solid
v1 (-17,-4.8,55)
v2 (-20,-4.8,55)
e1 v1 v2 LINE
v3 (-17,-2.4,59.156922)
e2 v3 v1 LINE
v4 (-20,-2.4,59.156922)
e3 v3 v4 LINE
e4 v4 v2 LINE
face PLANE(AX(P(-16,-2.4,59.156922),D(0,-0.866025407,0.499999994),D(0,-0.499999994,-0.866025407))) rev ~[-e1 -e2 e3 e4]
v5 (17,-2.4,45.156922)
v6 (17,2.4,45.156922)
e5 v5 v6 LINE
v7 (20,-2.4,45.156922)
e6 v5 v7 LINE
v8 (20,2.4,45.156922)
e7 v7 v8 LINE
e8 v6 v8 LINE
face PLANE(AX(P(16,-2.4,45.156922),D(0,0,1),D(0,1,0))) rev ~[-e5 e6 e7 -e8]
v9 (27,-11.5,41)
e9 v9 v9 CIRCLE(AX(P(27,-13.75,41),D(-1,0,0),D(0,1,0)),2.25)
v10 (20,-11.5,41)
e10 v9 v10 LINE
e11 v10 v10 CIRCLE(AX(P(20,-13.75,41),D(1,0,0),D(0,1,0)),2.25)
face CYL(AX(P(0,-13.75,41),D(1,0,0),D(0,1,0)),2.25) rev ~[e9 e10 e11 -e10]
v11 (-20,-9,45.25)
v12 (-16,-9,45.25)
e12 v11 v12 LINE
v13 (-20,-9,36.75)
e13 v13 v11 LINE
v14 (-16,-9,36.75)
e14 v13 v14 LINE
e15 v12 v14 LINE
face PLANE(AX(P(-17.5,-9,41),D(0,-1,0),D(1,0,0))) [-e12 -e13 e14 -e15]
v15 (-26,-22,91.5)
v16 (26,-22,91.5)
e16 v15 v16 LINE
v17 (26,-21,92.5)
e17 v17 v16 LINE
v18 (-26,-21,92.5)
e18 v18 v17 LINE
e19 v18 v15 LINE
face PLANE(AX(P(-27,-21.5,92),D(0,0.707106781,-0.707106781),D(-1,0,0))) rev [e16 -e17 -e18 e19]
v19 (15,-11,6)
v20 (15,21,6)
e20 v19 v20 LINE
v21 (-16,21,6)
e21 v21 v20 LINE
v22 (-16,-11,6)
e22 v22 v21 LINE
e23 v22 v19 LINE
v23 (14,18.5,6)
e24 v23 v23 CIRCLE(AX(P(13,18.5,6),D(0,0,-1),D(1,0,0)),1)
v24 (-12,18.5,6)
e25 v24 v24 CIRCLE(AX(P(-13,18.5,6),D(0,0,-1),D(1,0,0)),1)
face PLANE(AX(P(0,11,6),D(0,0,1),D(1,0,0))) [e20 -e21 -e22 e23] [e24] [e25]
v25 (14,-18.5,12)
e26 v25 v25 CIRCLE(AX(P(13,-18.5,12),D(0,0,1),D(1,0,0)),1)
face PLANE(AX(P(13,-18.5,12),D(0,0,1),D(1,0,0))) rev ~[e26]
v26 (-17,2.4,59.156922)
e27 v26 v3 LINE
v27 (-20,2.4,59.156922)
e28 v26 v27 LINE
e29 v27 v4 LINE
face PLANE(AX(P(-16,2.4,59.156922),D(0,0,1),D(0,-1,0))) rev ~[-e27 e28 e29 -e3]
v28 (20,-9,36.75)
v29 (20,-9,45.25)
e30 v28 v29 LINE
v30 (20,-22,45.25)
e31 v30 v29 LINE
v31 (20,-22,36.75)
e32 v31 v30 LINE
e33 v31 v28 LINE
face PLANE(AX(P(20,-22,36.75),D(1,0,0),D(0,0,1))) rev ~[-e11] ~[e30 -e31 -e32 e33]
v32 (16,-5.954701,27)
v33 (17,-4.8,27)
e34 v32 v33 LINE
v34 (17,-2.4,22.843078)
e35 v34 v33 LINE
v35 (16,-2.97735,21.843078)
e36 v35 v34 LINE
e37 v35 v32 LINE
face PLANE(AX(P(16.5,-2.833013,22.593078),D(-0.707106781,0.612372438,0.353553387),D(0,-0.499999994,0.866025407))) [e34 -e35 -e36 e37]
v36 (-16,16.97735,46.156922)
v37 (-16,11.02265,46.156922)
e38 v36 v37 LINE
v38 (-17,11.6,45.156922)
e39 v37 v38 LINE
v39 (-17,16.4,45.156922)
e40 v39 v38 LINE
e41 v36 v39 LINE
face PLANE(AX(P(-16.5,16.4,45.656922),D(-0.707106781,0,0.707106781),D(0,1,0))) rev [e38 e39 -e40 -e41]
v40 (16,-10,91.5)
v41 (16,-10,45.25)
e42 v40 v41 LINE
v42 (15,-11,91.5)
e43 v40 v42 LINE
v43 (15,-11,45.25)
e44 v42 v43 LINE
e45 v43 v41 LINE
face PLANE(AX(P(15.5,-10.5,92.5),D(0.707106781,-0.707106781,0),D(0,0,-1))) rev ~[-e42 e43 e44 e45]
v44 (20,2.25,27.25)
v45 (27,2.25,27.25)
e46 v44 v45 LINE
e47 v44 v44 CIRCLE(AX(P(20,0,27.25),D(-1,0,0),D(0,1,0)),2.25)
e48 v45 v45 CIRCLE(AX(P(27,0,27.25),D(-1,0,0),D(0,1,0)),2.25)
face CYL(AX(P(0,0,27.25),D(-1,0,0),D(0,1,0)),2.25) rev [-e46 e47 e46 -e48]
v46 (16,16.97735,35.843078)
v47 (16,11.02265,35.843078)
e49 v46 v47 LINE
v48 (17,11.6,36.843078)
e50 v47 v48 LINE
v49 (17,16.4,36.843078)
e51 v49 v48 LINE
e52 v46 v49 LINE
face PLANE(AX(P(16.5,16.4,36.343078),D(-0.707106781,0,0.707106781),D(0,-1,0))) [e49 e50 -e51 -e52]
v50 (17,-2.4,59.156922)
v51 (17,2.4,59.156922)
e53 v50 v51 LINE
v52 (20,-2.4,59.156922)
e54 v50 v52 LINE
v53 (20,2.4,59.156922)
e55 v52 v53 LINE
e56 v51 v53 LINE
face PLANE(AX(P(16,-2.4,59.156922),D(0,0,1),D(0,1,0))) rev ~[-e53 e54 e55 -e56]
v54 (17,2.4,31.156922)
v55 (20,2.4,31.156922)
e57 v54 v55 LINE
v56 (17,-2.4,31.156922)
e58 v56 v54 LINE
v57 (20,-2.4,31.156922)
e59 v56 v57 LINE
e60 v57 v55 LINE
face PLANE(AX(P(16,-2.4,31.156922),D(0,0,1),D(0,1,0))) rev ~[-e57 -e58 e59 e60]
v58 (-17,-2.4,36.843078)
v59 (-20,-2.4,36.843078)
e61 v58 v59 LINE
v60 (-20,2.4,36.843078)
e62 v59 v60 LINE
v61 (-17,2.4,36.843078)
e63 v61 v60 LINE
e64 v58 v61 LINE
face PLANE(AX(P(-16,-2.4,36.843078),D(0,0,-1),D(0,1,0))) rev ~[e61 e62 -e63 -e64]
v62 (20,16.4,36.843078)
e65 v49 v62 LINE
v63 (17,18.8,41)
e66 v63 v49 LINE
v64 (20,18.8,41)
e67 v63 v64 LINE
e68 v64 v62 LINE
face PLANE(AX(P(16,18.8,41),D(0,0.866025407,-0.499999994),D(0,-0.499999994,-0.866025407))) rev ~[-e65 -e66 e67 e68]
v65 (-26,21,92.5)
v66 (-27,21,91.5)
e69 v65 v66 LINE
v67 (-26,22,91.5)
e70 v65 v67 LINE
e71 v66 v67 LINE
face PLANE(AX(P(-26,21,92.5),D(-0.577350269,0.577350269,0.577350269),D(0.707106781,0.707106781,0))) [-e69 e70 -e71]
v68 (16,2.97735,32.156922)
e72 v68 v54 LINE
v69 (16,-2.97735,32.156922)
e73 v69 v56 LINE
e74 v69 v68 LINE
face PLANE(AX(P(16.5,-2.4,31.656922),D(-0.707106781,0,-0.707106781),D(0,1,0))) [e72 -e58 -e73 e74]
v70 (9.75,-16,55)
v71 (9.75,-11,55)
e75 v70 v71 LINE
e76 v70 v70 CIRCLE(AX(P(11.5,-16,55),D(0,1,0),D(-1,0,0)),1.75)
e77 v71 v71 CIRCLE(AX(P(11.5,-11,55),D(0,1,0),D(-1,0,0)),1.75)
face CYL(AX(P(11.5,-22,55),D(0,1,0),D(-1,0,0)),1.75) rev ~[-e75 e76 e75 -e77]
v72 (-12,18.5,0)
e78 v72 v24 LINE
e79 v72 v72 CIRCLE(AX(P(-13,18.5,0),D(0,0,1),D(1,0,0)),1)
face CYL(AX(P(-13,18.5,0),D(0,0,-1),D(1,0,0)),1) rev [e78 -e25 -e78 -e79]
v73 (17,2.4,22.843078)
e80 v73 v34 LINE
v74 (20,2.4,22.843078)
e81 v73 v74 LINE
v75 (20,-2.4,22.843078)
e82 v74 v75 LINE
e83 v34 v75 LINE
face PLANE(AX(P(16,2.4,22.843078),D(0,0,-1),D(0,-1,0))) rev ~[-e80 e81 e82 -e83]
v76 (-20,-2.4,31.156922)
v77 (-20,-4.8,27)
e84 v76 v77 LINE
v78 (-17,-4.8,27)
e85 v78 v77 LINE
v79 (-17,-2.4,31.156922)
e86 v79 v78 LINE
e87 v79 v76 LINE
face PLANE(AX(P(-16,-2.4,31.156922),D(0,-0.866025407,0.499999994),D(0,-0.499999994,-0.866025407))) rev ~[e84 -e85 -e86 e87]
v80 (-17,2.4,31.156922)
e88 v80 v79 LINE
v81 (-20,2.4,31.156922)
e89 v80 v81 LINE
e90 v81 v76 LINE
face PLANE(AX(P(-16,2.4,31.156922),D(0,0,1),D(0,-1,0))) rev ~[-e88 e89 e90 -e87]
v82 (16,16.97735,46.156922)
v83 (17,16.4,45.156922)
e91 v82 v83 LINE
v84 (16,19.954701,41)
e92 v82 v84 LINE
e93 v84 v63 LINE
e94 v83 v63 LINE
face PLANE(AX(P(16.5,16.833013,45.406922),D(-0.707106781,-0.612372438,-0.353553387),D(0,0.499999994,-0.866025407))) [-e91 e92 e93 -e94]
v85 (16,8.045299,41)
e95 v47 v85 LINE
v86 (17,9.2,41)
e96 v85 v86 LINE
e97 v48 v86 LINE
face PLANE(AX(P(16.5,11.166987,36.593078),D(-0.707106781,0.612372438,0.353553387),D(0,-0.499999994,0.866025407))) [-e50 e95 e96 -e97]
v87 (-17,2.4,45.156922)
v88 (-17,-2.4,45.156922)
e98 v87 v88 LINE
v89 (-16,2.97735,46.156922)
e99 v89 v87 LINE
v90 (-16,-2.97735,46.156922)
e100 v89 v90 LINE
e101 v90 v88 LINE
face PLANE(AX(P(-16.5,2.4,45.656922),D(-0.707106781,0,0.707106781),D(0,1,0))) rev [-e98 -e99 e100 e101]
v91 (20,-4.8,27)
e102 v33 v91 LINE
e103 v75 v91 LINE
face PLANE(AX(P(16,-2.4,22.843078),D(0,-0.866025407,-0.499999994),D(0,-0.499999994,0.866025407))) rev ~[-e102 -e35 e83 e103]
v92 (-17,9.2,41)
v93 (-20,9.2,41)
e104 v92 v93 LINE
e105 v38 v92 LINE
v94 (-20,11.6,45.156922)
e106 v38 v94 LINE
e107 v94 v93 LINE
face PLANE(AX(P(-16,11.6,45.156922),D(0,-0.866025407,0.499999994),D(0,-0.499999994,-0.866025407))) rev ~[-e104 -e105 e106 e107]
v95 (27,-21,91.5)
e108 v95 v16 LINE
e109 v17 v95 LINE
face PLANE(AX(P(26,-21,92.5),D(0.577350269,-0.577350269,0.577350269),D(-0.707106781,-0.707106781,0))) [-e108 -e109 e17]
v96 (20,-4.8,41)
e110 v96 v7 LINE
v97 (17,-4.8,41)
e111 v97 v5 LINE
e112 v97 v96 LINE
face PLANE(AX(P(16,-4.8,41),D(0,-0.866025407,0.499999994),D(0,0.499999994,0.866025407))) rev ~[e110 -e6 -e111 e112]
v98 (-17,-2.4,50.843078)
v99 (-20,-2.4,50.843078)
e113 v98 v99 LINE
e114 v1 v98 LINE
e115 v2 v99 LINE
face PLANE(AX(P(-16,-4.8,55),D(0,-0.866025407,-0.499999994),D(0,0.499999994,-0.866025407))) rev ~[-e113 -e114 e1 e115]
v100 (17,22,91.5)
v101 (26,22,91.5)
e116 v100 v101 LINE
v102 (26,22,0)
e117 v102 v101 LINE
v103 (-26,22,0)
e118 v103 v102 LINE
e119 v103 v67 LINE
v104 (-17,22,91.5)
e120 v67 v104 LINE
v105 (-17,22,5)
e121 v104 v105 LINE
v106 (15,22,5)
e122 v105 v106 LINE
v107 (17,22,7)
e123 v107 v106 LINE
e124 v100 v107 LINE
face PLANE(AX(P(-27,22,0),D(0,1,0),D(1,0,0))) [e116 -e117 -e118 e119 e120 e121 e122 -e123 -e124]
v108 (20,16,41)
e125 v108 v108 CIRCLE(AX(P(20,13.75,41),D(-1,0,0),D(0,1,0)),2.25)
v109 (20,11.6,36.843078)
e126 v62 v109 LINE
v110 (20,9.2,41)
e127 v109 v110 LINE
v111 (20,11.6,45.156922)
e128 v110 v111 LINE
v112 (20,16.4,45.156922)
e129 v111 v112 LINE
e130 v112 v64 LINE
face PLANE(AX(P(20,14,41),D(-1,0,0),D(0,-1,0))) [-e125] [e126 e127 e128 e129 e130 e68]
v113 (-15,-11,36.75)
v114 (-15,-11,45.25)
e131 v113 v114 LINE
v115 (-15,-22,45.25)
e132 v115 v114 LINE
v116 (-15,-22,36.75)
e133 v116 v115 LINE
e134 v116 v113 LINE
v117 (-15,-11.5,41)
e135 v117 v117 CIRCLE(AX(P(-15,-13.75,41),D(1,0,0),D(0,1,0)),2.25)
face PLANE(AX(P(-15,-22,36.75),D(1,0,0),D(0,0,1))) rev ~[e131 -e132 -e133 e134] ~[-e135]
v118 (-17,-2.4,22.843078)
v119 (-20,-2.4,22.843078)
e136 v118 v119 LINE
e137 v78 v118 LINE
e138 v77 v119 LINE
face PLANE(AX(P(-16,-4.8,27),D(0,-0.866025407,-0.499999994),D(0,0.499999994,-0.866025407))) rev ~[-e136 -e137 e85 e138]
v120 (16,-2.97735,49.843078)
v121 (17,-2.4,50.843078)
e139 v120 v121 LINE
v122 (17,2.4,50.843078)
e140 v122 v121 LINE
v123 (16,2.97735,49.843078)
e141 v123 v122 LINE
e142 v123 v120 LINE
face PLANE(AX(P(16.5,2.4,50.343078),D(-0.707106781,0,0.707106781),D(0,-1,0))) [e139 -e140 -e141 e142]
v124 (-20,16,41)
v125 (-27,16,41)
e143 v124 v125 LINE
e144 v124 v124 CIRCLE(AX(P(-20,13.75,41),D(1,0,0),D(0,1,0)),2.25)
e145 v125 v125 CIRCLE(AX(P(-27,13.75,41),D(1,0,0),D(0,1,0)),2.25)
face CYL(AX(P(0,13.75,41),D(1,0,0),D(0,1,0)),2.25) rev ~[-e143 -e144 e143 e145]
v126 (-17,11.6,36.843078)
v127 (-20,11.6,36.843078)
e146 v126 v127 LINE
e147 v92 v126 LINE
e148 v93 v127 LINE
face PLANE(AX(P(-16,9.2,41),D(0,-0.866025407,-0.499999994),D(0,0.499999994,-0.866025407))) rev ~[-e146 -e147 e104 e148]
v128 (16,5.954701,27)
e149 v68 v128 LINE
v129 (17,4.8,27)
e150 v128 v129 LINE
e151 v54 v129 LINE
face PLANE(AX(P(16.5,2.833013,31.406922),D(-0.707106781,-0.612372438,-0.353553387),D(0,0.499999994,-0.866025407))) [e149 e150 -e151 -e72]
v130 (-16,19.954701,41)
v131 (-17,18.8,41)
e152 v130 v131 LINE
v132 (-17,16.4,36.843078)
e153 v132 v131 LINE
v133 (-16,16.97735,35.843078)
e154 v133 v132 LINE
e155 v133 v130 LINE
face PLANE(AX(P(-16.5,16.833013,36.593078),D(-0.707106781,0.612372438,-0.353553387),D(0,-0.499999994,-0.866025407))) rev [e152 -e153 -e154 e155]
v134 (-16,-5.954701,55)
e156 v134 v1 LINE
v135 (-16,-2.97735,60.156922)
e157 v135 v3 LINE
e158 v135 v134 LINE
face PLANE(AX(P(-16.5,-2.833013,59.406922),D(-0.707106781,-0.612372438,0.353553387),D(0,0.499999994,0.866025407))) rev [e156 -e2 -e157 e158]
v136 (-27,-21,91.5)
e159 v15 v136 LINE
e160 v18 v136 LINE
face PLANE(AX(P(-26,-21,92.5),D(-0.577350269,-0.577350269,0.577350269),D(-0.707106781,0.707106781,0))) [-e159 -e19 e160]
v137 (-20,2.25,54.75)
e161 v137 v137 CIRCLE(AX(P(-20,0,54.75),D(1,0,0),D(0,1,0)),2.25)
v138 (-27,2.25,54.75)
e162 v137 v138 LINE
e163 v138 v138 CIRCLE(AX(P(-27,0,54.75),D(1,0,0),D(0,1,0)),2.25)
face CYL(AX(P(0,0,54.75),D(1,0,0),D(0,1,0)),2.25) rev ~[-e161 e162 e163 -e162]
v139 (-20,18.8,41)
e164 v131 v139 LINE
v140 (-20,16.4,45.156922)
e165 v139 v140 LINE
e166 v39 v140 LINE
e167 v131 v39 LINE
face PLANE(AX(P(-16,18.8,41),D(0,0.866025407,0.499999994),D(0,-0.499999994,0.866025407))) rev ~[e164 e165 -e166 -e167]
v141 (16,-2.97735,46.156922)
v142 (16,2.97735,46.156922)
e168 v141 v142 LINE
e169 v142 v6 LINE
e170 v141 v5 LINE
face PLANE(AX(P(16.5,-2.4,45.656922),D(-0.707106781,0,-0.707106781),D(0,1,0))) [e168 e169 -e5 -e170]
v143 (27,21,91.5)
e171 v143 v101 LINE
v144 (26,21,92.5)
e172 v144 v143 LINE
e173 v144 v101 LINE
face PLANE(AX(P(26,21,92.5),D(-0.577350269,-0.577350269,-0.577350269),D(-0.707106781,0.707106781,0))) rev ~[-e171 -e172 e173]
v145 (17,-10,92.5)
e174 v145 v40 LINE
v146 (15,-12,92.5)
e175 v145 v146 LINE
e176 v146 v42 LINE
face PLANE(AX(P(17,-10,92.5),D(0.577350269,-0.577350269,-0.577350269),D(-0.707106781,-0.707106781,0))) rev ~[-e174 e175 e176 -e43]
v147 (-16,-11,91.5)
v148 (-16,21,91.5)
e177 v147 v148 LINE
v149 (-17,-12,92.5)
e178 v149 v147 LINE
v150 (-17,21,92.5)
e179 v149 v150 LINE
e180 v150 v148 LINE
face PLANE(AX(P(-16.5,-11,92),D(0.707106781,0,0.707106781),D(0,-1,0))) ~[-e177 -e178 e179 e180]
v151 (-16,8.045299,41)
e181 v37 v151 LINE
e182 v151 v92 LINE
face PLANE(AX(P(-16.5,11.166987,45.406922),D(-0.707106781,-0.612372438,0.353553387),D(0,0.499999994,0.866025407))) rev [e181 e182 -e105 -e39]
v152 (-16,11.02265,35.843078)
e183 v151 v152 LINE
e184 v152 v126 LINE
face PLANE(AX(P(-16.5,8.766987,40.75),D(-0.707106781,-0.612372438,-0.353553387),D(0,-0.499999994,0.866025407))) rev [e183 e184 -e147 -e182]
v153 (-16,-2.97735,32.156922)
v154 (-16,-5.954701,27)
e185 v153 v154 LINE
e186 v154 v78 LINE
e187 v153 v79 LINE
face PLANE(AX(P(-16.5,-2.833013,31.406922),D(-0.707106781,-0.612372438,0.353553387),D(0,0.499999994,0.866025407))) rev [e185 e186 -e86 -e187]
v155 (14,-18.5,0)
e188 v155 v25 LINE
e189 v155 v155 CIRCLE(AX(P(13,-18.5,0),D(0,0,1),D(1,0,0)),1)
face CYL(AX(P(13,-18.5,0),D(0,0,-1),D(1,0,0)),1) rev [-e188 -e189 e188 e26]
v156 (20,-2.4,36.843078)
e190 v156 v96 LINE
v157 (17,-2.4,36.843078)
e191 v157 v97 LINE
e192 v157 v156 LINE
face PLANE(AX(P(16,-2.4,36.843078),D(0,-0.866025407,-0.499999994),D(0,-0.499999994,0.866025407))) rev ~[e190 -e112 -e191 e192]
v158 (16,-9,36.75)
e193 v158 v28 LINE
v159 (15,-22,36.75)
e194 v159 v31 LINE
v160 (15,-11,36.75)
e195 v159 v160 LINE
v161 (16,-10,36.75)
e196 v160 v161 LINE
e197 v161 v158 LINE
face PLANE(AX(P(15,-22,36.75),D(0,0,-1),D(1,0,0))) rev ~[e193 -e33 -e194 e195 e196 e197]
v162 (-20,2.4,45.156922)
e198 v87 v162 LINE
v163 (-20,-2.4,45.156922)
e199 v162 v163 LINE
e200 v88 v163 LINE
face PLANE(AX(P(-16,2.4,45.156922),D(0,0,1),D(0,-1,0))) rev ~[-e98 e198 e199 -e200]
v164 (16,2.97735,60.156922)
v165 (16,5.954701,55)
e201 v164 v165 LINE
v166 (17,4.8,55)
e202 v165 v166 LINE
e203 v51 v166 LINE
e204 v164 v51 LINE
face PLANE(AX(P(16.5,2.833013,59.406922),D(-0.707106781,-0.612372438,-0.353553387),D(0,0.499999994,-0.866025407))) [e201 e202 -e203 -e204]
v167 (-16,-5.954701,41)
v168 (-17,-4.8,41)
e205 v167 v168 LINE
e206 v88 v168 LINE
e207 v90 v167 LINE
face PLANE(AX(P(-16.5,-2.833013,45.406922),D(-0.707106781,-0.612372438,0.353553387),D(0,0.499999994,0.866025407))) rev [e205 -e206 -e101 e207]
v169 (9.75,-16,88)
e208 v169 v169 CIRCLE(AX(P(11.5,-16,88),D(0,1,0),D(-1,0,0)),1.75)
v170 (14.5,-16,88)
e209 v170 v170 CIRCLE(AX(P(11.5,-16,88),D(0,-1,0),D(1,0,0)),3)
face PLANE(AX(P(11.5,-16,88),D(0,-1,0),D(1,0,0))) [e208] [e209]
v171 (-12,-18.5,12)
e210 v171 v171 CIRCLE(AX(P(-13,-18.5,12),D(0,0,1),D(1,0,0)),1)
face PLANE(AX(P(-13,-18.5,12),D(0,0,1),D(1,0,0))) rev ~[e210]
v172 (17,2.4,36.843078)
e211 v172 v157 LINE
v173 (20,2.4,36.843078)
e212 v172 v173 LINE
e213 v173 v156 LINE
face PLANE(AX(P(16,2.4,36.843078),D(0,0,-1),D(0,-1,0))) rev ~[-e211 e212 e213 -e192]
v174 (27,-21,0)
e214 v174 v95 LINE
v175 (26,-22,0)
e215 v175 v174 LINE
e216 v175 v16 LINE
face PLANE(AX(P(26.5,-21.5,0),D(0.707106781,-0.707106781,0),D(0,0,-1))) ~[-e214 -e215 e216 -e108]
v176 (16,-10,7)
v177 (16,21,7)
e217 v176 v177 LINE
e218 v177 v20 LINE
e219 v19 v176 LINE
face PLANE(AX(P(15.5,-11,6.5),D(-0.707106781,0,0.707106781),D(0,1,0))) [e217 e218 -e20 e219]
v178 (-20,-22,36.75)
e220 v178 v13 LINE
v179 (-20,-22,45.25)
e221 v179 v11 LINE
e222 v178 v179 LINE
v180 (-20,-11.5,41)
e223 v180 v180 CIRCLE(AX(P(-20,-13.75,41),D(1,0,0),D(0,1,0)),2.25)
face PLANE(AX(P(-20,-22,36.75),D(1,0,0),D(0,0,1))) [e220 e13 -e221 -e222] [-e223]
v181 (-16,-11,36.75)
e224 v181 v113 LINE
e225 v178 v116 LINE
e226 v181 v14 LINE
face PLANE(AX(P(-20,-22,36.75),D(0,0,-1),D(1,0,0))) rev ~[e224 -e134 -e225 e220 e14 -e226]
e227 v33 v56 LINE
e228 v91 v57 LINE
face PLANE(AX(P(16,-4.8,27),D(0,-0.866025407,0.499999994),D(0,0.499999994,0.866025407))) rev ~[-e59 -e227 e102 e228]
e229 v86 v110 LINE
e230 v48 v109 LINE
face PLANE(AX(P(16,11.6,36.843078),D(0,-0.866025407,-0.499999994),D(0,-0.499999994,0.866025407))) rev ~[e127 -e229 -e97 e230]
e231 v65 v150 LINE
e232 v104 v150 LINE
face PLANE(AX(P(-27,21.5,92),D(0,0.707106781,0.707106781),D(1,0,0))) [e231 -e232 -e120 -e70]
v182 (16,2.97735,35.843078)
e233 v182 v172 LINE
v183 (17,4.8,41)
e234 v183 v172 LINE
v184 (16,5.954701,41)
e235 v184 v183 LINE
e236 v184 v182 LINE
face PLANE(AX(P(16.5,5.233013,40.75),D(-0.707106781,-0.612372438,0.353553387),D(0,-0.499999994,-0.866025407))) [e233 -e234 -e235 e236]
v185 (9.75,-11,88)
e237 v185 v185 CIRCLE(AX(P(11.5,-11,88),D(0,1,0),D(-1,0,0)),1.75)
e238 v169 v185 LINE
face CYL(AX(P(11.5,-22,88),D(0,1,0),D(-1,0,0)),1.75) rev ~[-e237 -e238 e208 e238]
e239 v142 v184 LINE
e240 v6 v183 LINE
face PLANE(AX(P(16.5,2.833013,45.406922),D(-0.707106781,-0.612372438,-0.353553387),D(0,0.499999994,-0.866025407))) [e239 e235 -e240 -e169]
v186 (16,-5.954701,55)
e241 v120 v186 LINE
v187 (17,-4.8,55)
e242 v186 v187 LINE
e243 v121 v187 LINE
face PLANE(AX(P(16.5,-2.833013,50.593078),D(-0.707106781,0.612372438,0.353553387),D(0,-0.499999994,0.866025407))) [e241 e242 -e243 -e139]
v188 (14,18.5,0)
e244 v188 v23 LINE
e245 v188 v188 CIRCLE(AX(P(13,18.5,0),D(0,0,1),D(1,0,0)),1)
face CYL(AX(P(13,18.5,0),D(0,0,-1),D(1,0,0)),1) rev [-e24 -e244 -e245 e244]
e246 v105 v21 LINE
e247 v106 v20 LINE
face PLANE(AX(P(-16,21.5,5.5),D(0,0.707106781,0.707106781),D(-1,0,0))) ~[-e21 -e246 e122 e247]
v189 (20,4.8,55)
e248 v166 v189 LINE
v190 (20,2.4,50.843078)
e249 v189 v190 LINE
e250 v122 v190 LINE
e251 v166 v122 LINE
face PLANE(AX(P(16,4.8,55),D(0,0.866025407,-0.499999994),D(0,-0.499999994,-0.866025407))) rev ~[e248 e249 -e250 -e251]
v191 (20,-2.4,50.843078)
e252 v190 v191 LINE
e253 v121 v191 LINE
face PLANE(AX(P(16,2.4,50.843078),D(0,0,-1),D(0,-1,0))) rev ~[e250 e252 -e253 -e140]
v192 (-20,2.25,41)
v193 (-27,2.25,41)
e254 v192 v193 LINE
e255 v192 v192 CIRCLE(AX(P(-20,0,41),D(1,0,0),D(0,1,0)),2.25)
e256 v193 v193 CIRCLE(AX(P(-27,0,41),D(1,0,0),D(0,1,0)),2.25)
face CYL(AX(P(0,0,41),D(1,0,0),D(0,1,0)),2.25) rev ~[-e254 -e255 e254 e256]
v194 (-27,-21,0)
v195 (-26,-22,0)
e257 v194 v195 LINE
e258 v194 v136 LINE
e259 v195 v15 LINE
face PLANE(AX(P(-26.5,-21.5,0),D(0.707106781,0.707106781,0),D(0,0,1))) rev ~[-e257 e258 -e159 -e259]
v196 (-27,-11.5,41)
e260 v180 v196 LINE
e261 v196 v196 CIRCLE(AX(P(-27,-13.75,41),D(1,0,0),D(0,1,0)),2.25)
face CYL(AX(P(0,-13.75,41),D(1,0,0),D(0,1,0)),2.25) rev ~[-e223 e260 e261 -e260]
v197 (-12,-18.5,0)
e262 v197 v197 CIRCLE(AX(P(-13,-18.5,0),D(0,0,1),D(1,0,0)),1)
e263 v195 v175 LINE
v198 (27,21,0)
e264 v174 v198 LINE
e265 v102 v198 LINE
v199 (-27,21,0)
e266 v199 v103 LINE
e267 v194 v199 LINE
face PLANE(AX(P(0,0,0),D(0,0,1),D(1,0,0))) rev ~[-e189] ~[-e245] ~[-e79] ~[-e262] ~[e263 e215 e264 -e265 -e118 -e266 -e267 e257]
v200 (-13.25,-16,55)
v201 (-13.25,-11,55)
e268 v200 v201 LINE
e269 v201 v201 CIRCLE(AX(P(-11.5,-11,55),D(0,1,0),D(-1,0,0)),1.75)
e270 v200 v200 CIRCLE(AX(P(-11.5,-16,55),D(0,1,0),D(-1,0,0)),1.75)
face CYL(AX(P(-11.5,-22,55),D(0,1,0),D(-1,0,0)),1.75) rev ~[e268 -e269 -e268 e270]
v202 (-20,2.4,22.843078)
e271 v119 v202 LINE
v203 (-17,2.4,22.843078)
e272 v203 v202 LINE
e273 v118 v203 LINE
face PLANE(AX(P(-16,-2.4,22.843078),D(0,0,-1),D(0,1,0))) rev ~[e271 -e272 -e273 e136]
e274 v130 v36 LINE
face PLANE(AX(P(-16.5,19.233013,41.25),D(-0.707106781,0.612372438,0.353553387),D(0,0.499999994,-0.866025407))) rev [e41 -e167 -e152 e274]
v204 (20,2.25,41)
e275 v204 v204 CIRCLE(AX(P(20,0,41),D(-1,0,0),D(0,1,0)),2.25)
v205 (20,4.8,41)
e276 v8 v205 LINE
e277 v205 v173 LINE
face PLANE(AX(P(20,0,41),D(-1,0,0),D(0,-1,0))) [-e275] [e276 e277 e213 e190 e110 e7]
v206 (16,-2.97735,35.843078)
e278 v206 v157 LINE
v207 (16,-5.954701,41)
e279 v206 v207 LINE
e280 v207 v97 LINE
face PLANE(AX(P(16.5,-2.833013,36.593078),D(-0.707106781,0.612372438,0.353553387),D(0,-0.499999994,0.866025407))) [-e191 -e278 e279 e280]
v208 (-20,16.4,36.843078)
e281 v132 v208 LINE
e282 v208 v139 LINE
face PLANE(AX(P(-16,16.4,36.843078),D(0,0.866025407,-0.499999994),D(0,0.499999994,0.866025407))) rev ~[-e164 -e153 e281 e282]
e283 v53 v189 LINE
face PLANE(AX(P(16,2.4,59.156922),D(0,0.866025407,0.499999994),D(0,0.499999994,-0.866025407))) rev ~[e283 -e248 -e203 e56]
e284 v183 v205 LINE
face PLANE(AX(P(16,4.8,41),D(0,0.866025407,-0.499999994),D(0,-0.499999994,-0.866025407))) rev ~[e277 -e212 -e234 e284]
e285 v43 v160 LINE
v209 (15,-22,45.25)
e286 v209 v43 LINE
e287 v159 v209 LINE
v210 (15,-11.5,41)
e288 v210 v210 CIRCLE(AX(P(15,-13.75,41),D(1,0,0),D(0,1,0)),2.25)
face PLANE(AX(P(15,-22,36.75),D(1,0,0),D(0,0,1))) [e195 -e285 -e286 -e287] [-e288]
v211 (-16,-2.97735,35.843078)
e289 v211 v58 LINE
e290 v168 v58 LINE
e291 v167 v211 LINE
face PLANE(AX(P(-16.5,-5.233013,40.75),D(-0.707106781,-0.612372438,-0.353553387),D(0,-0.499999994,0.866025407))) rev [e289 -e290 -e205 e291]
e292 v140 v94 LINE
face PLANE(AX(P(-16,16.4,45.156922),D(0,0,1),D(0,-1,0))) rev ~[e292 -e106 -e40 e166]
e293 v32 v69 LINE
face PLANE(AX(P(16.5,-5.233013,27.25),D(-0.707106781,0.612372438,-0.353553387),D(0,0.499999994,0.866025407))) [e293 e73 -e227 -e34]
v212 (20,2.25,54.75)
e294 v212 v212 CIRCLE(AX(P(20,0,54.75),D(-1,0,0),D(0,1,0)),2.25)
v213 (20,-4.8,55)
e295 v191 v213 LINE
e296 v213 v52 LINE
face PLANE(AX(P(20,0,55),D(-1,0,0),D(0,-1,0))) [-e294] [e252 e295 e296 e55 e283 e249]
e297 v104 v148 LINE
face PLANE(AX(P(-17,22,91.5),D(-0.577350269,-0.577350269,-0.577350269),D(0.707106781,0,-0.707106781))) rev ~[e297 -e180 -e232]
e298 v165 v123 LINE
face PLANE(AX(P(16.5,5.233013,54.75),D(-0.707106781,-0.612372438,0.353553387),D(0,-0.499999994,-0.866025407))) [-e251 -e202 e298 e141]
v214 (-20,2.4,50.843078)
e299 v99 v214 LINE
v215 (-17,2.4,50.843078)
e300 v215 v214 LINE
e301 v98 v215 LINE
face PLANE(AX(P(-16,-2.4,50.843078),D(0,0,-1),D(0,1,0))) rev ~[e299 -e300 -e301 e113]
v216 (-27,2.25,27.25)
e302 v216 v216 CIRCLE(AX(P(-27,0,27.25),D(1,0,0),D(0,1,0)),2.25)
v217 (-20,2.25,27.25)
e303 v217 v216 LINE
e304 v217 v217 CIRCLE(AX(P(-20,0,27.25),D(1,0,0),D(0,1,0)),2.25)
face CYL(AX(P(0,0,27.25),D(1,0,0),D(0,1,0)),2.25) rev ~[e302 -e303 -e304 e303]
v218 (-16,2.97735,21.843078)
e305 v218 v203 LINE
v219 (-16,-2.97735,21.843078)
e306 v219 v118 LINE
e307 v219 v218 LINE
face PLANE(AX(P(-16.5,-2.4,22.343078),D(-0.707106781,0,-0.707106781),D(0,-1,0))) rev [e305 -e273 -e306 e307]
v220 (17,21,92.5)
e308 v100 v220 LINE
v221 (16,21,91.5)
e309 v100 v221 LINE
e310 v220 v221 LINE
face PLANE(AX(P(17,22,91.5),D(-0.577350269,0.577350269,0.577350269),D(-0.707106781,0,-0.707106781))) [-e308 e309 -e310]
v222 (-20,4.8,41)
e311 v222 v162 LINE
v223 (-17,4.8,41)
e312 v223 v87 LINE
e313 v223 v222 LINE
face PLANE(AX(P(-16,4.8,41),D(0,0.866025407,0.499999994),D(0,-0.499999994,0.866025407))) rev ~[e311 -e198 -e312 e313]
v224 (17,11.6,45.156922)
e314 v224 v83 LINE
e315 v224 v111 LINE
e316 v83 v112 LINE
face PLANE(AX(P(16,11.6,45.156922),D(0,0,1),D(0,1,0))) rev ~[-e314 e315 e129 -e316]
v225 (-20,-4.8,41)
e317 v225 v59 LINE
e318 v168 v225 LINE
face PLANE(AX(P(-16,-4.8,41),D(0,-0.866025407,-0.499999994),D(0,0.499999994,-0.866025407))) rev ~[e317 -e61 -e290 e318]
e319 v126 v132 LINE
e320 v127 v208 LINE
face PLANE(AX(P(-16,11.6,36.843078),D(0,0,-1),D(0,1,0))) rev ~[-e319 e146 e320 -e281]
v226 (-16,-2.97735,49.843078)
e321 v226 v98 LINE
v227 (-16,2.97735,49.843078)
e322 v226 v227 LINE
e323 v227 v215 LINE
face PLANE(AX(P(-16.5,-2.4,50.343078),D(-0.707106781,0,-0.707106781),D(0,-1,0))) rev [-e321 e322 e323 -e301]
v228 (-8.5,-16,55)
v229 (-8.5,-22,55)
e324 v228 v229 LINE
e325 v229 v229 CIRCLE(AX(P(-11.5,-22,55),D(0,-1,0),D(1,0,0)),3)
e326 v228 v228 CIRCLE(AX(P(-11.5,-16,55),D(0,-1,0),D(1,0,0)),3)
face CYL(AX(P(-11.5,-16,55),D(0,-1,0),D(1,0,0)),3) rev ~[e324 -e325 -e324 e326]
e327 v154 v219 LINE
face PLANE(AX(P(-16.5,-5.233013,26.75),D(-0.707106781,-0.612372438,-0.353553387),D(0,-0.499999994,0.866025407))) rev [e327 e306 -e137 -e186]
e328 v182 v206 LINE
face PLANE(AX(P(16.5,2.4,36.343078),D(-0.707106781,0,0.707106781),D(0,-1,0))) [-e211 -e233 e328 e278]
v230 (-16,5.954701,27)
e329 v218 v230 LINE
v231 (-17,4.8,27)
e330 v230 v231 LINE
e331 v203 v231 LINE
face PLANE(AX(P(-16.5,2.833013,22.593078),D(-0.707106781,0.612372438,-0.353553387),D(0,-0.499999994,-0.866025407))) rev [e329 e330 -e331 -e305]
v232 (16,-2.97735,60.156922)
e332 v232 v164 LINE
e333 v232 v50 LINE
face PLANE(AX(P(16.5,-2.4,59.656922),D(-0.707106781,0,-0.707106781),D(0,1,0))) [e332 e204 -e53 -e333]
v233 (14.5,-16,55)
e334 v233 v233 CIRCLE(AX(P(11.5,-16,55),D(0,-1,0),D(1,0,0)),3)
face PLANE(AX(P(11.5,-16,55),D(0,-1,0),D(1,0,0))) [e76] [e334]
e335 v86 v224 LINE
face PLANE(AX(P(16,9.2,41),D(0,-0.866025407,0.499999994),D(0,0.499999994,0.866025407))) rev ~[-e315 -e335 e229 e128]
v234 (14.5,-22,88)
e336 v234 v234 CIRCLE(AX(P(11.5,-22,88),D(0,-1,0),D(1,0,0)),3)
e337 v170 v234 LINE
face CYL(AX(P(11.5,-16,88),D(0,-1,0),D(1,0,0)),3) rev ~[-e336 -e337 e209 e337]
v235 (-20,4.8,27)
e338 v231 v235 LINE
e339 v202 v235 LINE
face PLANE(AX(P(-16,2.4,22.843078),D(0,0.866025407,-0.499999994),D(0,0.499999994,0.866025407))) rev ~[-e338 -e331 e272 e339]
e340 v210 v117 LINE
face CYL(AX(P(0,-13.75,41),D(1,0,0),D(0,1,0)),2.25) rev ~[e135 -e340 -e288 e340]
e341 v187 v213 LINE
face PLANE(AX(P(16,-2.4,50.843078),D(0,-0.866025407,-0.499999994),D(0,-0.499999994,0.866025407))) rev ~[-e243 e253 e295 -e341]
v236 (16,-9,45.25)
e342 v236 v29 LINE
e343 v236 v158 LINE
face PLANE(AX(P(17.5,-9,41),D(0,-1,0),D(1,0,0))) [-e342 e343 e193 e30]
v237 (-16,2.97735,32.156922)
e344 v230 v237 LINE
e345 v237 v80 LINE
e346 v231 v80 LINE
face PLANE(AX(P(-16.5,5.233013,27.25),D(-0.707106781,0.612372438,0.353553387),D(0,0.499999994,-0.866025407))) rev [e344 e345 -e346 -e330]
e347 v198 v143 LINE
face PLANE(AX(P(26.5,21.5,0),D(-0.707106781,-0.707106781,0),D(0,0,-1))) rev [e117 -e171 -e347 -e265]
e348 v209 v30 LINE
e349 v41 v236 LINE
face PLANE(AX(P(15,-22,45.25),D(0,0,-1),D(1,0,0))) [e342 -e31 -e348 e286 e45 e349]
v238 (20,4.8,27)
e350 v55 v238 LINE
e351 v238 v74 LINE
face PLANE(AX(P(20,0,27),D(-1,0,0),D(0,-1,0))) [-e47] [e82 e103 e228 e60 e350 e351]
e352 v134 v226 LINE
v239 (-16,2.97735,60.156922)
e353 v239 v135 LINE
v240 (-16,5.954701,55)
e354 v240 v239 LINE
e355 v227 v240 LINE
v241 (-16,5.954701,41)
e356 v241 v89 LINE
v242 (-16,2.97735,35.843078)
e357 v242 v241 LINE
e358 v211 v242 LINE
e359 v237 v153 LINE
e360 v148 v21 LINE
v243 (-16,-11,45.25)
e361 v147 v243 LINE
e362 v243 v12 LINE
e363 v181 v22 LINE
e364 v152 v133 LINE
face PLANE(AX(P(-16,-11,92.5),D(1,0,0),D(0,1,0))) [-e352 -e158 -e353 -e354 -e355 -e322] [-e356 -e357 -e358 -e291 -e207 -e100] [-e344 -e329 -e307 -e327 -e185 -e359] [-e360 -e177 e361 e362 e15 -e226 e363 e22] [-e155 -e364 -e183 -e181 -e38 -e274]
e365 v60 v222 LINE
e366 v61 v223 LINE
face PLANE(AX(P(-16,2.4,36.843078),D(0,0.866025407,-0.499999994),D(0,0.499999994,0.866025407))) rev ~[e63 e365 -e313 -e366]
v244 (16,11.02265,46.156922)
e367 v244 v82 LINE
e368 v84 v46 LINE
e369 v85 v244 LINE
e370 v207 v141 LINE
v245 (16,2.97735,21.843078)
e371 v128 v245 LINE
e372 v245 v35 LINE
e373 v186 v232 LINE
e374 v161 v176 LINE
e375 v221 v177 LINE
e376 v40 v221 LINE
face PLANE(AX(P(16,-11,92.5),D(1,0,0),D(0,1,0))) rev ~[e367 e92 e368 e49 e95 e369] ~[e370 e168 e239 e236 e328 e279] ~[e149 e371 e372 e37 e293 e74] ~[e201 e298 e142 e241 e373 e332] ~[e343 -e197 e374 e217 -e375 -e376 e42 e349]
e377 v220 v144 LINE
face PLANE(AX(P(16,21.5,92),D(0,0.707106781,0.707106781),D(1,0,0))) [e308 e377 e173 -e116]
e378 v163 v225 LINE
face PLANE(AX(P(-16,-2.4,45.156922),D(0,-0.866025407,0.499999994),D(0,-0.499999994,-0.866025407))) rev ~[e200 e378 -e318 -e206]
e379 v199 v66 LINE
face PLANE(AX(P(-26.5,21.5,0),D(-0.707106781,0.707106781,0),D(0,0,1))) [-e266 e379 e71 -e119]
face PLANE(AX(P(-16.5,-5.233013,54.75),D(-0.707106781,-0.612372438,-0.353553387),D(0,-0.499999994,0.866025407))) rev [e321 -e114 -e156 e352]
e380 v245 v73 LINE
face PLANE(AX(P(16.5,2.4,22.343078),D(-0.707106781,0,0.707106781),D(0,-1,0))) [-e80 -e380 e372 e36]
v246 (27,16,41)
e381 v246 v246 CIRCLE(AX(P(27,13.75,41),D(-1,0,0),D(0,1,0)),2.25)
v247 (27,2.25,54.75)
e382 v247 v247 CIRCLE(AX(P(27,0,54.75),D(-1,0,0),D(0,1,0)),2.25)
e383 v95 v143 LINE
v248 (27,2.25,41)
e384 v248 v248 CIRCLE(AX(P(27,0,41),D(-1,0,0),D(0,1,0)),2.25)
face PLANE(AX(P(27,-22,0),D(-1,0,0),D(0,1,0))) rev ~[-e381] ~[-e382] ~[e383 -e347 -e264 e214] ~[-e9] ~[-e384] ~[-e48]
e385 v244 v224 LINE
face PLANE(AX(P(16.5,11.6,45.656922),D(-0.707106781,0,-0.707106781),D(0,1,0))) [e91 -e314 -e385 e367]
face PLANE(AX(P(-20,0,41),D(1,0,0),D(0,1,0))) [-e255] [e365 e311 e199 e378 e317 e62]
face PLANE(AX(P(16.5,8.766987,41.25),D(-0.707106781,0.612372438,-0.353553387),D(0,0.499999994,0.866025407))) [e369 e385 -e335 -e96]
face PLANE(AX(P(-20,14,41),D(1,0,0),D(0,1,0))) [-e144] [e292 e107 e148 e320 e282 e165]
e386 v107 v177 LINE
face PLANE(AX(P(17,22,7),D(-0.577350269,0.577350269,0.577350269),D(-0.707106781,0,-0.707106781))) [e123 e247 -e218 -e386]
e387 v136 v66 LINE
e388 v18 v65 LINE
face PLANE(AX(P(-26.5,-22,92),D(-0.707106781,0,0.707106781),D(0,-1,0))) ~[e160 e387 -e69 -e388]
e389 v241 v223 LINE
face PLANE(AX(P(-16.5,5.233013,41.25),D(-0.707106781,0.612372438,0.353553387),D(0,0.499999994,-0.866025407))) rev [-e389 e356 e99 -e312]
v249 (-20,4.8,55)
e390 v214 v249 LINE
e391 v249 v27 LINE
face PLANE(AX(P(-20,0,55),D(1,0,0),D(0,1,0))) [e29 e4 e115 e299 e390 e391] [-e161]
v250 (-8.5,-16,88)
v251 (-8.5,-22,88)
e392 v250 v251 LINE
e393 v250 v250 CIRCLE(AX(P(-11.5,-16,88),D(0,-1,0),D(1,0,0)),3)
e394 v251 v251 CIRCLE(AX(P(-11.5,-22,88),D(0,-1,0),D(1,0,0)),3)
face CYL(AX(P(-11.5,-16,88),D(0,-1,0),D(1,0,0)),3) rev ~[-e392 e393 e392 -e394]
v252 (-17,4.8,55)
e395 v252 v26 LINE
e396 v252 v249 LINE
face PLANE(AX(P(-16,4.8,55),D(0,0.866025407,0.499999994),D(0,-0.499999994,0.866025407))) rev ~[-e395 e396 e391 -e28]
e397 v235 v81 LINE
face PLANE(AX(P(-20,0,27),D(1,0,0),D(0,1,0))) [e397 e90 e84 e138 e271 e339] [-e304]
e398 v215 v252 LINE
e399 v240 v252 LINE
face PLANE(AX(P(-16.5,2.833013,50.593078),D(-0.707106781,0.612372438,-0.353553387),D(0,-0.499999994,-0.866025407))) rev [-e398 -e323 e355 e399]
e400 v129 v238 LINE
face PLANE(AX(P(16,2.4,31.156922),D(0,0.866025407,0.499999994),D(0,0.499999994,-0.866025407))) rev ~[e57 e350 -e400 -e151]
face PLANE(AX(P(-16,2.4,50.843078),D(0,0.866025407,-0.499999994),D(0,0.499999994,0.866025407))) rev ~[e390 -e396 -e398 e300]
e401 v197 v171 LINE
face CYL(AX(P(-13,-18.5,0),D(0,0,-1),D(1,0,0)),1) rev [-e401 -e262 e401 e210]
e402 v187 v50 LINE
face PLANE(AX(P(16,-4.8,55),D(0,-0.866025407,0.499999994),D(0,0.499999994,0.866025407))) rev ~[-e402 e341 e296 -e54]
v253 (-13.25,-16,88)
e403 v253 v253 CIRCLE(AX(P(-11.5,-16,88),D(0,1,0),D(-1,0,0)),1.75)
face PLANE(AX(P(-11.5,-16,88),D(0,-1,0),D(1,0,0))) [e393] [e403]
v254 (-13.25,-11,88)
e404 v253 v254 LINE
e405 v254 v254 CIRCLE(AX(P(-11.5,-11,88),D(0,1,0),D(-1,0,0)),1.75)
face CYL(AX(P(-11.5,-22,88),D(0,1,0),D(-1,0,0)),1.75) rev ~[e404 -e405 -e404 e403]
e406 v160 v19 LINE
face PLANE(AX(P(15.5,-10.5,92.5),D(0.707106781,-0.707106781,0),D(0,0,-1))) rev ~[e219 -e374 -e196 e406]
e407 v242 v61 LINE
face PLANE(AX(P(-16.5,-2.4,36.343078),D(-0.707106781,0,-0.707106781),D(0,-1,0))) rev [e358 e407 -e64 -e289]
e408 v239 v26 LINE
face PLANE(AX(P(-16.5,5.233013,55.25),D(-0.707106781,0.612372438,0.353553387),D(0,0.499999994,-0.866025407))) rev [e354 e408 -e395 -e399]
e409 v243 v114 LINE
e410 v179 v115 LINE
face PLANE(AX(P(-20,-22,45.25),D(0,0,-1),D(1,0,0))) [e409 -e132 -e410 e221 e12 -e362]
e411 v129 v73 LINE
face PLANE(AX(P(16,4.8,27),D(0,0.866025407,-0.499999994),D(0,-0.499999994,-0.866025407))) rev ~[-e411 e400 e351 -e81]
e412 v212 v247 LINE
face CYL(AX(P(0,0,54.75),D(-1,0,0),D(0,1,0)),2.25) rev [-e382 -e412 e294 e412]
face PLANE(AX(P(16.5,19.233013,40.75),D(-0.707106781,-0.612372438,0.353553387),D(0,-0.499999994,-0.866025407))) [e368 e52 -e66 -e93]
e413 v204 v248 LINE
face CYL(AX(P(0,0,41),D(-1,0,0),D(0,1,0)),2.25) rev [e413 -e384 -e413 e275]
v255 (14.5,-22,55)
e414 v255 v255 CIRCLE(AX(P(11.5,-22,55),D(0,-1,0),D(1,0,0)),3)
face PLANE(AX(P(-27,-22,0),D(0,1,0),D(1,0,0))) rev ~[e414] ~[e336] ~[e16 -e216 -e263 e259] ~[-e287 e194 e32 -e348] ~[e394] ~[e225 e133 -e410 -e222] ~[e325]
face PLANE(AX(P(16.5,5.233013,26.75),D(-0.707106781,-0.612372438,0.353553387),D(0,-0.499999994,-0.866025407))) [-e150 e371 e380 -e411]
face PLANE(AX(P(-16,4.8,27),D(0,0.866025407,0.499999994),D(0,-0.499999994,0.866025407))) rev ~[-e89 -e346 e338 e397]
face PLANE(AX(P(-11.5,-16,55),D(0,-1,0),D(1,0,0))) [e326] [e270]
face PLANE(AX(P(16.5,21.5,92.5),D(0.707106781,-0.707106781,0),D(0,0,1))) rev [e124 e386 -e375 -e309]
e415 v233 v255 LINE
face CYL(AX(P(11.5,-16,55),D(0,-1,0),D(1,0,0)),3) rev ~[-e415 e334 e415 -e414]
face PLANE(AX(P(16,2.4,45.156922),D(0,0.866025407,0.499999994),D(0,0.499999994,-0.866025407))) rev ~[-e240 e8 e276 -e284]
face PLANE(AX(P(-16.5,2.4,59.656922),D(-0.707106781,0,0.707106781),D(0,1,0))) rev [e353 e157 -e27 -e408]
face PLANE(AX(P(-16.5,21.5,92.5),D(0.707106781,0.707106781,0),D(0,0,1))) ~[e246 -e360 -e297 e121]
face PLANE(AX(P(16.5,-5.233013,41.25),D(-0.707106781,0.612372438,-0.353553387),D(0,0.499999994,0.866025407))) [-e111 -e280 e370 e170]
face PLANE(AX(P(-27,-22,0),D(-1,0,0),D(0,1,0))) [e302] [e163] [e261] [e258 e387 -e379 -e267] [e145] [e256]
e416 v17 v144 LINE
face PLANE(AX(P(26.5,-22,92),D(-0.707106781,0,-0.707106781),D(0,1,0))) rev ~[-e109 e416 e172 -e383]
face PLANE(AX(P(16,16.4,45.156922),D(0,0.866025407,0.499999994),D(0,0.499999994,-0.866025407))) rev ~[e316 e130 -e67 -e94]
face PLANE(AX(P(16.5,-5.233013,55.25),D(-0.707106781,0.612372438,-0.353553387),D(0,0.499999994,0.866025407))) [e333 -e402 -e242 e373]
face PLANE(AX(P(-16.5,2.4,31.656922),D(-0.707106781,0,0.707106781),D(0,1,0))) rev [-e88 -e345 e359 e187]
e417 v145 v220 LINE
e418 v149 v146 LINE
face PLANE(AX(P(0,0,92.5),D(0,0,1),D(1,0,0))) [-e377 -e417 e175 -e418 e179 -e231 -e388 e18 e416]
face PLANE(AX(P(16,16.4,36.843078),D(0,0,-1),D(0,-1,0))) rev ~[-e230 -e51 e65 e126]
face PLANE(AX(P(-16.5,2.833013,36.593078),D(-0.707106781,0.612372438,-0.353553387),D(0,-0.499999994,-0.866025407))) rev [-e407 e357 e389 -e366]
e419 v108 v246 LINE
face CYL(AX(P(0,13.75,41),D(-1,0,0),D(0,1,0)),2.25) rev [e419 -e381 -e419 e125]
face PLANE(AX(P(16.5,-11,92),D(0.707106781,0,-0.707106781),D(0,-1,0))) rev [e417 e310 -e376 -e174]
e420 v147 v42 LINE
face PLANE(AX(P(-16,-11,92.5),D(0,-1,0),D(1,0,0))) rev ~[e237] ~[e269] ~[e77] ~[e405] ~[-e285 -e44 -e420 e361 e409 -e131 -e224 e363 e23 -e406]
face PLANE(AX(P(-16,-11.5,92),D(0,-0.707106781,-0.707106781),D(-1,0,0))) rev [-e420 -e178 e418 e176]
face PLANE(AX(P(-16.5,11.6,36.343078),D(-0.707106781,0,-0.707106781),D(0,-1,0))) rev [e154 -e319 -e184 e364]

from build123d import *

# Parameters (mm, degrees)
SKETCH_W            = 54
SKETCH_H            = 44
PAD_DEPTH           = 92.5
SKETCH001_W         = 32
SKETCH001_H         = 44
POCKET_DEPTH        = 86.5
SKETCH002_R         = 2.25
HOLE_DEPTH          = 50
HOLE001_DEPTH       = 50
SKETCH003_R         = 1
HOLE002_DEPTH       = 12
HOLE003_D           = 3.5
HOLE003_DEPTH       = 25
HOLE003_CBORE_D     = 6
HOLE003_CBORE_DEPTH = 6
HOLE003_TIPS_R      = 1.75
POCKET001_DEPTH     = 4
POCKET002_DEPTH     = 4
CHAMFER_SIZE        = 1
SKETCH007_W         = 5
SKETCH007_H         = 8.5
POCKET003_DEPTH     = 13


with BuildPart() as part:
    # Sketch → Pad (new body)
    with BuildSketch(Plane.XY):
        Rectangle(SKETCH_W, SKETCH_H)
    extrude(amount=PAD_DEPTH)

    # Sketch001 (on Face6 of Pad) → Pocket (cut)
    with BuildSketch(Plane.XY.offset(92.5)):
        with Locations((0, 11)):
            Rectangle(SKETCH001_W, SKETCH001_H)
    extrude(amount=-POCKET_DEPTH, mode=Mode.SUBTRACT)

    # Sketch002 → Hole (cut)
    with BuildSketch(Plane.YZ):
        with Locations((0, 41)):
            Circle(SKETCH002_R)
        with Locations((13.75, 41)):
            Circle(SKETCH002_R)
        with Locations((0, 54.75)):
            Circle(SKETCH002_R)
        with Locations((0, 27.25)):
            Circle(SKETCH002_R)
        with Locations((-13.75, 41)):
            Circle(SKETCH002_R)
    extrude(amount=-HOLE_DEPTH, mode=Mode.SUBTRACT)

    # Sketch002 → Hole001 (cut)
    with BuildSketch(Plane.YZ):
        with Locations((0, 41)):
            Circle(SKETCH002_R)
        with Locations((13.75, 41)):
            Circle(SKETCH002_R)
        with Locations((0, 54.75)):
            Circle(SKETCH002_R)
        with Locations((0, 27.25)):
            Circle(SKETCH002_R)
        with Locations((-13.75, 41)):
            Circle(SKETCH002_R)
    extrude(amount=HOLE001_DEPTH, mode=Mode.SUBTRACT)

    # Sketch003 → Hole002 (cut)
    with BuildSketch(Plane.XY):
        with Locations((-13, 18.5)):
            Circle(SKETCH003_R)
        with Locations((13, 18.5)):
            Circle(SKETCH003_R)
        with Locations((13, -18.5)):
            Circle(SKETCH003_R)
        with Locations((-13, -18.5)):
            Circle(SKETCH003_R)
    extrude(amount=HOLE002_DEPTH, mode=Mode.SUBTRACT)

    # Hole003
    with Locations(Plane.XZ.offset(22)):
        with Locations((-11.5, 88), (11.5, 88), (11.5, 55), (-11.5, 55)):
            CounterBoreHole(HOLE003_D / 2, HOLE003_CBORE_D / 2, HOLE003_CBORE_DEPTH, depth=HOLE003_DEPTH)

    # Hole003 tips → Hole003 tip 1 section 0
    with BuildSketch(Plane.XZ.offset(-3), mode=Mode.PRIVATE) as hole003_tip_1_s0:
        with Locations((-11.5, 88)):
            Circle(HOLE003_TIPS_R)
    loft([hole003_tip_1_s0.sketch, Vertex(-11.5, 4.051506, 88)], mode=Mode.SUBTRACT)

    # Hole003 tips → Hole003 tip 2 section 0
    with BuildSketch(Plane.XZ.offset(-3), mode=Mode.PRIVATE) as hole003_tip_2_s0:
        with Locations((11.5, 88)):
            Circle(HOLE003_TIPS_R)
    loft([hole003_tip_2_s0.sketch, Vertex(11.5, 4.051506, 88)], mode=Mode.SUBTRACT)

    # Hole003 tips → Hole003 tip 3 section 0
    with BuildSketch(Plane.XZ.offset(-3), mode=Mode.PRIVATE) as hole003_tip_3_s0:
        with Locations((11.5, 55)):
            Circle(HOLE003_TIPS_R)
    loft([hole003_tip_3_s0.sketch, Vertex(11.5, 4.051506, 55)], mode=Mode.SUBTRACT)

    # Hole003 tips → Hole003 tip 4 section 0
    with BuildSketch(Plane.XZ.offset(-3), mode=Mode.PRIVATE) as hole003_tip_4_s0:
        with Locations((-11.5, 55)):
            Circle(HOLE003_TIPS_R)
    loft([hole003_tip_4_s0.sketch, Vertex(-11.5, 4.051506, 55)], mode=Mode.SUBTRACT)

    # Sketch005 → Pocket001 (cut)
    with BuildSketch(Plane(origin=(16, 0, 0), x_dir=(0, -1, 0), z_dir=(-1, 0, 0))):
        Polygon((2.4, 50.843078), (4.8, 55), (2.4, 59.156922), (-2.4, 59.156922), (-4.8, 55), (-2.4, 50.843078), align=None)
        Polygon((2.4, 36.843078), (4.8, 41), (2.4, 45.156922), (-2.4, 45.156922), (-4.8, 41), (-2.4, 36.843078), align=None)
        Polygon((-11.6, 36.843078), (-9.2, 41), (-11.6, 45.156922), (-16.4, 45.156922), (-18.8, 41), (-16.4, 36.843078), align=None)
        Polygon((2.4, 22.843078), (4.8, 27), (2.4, 31.156922), (-2.4, 31.156922), (-4.8, 27), (-2.4, 22.843078), align=None)
    extrude(amount=-POCKET001_DEPTH, mode=Mode.SUBTRACT)

    # Sketch006 (on Face7 of Hole003) → Pocket002 (cut)
    with BuildSketch(Plane.YZ.offset(-16)):
        Polygon((2.4, 50.843078), (4.8, 55), (2.4, 59.156922), (-2.4, 59.156922), (-4.8, 55), (-2.4, 50.843078), align=None)
        Polygon((2.4, 36.843078), (4.8, 41), (2.4, 45.156922), (-2.4, 45.156922), (-4.8, 41), (-2.4, 36.843078), align=None)
        Polygon((16.4, 36.843078), (18.8, 41), (16.4, 45.156922), (11.6, 45.156922), (9.2, 41), (11.6, 36.843078), align=None)
        Polygon((2.4, 22.843078), (4.8, 27), (2.4, 31.156922), (-2.4, 31.156922), (-4.8, 27), (-2.4, 22.843078), align=None)
    extrude(amount=-POCKET002_DEPTH, mode=Mode.SUBTRACT)

    # Chamfer
    chamfer_edges = [part.edges().sort_by_distance(p)[0] for p in [
        (-27, 22, 46.25),
        (-27, -22, 46.25),
        (27, 22, 46.25),
        (27, -22, 46.25),
        (27, 0, 92.5),
        (16, 5.5, 92.5),
        (0, -11, 92.5),
        (-16, 5.5, 92.5),
        (0, -22, 92.5),
        (-27, 0, 92.5),
        (-21.5, 22, 92.5),
        (21.5, 22, 92.5),
        (16, 22, 49.25),
        (0, 22, 6),
        (-16, 22, 49.25),
        (-16, 3.6, 57.078461),
        (-16, 0, 59.156922),
        (-16, -3.6, 57.078461),
        (-16, -3.6, 52.921539),
        (-16, 0, 50.843078),
        (-16, 3.6, 52.921539),
        (-16, 0, 45.156922),
        (-16, -3.6, 43.078461),
        (-16, -3.6, 38.921539),
        (-16, 0, 36.843078),
        (-16, 3.6, 38.921539),
        (-16, 3.6, 43.078461),
        (-16, 14, 45.156922),
        (-16, 10.4, 43.078461),
        (-16, 10.4, 38.921539),
        (-16, 14, 36.843078),
        (-16, 17.6, 38.921539),
        (-16, 17.6, 43.078461),
        (-16, 0, 31.156922),
        (-16, -3.6, 29.078461),
        (-16, -3.6, 24.921539),
        (-16, 0, 22.843078),
        (-16, 3.6, 24.921539),
        (-16, 3.6, 29.078461),
        (16, -3.6, 57.078461),
        (16, 0, 59.156922),
        (16, 3.6, 57.078461),
        (16, 3.6, 52.921539),
        (16, 0, 50.843078),
        (16, -3.6, 52.921539),
        (16, 0, 45.156922),
        (16, -3.6, 43.078461),
        (16, -3.6, 38.921539),
        (16, 0, 36.843078),
        (16, -11, 49.25),
        (16, 5.5, 6),
        (16, -3.6, 24.921539),
        (16, -3.6, 29.078461),
        (16, 0, 31.156922),
        (16, 3.6, 29.078461),
        (16, 3.6, 24.921539),
        (16, 0, 22.843078),
        (16, 10.4, 38.921539),
        (16, 10.4, 43.078461),
        (16, 14, 45.156922),
        (16, 17.6, 43.078461),
        (16, 17.6, 38.921539),
        (16, 14, 36.843078),
        (16, 3.6, 43.078461),
        (16, 3.6, 38.921539),
    ]]
    chamfer(chamfer_edges, length=CHAMFER_SIZE)

    # Sketch007 (on Face15 of Chamfer) → Pocket003 (cut)
    with BuildSketch(Plane.XZ.offset(22)):
        with Locations((-17.5, 41)):
            Rectangle(SKETCH007_W, SKETCH007_H)
        with Locations((17.5, 41)):
            Rectangle(SKETCH007_W, SKETCH007_H)
    extrude(amount=-POCKET003_DEPTH, mode=Mode.SUBTRACT)


solid = part.part
